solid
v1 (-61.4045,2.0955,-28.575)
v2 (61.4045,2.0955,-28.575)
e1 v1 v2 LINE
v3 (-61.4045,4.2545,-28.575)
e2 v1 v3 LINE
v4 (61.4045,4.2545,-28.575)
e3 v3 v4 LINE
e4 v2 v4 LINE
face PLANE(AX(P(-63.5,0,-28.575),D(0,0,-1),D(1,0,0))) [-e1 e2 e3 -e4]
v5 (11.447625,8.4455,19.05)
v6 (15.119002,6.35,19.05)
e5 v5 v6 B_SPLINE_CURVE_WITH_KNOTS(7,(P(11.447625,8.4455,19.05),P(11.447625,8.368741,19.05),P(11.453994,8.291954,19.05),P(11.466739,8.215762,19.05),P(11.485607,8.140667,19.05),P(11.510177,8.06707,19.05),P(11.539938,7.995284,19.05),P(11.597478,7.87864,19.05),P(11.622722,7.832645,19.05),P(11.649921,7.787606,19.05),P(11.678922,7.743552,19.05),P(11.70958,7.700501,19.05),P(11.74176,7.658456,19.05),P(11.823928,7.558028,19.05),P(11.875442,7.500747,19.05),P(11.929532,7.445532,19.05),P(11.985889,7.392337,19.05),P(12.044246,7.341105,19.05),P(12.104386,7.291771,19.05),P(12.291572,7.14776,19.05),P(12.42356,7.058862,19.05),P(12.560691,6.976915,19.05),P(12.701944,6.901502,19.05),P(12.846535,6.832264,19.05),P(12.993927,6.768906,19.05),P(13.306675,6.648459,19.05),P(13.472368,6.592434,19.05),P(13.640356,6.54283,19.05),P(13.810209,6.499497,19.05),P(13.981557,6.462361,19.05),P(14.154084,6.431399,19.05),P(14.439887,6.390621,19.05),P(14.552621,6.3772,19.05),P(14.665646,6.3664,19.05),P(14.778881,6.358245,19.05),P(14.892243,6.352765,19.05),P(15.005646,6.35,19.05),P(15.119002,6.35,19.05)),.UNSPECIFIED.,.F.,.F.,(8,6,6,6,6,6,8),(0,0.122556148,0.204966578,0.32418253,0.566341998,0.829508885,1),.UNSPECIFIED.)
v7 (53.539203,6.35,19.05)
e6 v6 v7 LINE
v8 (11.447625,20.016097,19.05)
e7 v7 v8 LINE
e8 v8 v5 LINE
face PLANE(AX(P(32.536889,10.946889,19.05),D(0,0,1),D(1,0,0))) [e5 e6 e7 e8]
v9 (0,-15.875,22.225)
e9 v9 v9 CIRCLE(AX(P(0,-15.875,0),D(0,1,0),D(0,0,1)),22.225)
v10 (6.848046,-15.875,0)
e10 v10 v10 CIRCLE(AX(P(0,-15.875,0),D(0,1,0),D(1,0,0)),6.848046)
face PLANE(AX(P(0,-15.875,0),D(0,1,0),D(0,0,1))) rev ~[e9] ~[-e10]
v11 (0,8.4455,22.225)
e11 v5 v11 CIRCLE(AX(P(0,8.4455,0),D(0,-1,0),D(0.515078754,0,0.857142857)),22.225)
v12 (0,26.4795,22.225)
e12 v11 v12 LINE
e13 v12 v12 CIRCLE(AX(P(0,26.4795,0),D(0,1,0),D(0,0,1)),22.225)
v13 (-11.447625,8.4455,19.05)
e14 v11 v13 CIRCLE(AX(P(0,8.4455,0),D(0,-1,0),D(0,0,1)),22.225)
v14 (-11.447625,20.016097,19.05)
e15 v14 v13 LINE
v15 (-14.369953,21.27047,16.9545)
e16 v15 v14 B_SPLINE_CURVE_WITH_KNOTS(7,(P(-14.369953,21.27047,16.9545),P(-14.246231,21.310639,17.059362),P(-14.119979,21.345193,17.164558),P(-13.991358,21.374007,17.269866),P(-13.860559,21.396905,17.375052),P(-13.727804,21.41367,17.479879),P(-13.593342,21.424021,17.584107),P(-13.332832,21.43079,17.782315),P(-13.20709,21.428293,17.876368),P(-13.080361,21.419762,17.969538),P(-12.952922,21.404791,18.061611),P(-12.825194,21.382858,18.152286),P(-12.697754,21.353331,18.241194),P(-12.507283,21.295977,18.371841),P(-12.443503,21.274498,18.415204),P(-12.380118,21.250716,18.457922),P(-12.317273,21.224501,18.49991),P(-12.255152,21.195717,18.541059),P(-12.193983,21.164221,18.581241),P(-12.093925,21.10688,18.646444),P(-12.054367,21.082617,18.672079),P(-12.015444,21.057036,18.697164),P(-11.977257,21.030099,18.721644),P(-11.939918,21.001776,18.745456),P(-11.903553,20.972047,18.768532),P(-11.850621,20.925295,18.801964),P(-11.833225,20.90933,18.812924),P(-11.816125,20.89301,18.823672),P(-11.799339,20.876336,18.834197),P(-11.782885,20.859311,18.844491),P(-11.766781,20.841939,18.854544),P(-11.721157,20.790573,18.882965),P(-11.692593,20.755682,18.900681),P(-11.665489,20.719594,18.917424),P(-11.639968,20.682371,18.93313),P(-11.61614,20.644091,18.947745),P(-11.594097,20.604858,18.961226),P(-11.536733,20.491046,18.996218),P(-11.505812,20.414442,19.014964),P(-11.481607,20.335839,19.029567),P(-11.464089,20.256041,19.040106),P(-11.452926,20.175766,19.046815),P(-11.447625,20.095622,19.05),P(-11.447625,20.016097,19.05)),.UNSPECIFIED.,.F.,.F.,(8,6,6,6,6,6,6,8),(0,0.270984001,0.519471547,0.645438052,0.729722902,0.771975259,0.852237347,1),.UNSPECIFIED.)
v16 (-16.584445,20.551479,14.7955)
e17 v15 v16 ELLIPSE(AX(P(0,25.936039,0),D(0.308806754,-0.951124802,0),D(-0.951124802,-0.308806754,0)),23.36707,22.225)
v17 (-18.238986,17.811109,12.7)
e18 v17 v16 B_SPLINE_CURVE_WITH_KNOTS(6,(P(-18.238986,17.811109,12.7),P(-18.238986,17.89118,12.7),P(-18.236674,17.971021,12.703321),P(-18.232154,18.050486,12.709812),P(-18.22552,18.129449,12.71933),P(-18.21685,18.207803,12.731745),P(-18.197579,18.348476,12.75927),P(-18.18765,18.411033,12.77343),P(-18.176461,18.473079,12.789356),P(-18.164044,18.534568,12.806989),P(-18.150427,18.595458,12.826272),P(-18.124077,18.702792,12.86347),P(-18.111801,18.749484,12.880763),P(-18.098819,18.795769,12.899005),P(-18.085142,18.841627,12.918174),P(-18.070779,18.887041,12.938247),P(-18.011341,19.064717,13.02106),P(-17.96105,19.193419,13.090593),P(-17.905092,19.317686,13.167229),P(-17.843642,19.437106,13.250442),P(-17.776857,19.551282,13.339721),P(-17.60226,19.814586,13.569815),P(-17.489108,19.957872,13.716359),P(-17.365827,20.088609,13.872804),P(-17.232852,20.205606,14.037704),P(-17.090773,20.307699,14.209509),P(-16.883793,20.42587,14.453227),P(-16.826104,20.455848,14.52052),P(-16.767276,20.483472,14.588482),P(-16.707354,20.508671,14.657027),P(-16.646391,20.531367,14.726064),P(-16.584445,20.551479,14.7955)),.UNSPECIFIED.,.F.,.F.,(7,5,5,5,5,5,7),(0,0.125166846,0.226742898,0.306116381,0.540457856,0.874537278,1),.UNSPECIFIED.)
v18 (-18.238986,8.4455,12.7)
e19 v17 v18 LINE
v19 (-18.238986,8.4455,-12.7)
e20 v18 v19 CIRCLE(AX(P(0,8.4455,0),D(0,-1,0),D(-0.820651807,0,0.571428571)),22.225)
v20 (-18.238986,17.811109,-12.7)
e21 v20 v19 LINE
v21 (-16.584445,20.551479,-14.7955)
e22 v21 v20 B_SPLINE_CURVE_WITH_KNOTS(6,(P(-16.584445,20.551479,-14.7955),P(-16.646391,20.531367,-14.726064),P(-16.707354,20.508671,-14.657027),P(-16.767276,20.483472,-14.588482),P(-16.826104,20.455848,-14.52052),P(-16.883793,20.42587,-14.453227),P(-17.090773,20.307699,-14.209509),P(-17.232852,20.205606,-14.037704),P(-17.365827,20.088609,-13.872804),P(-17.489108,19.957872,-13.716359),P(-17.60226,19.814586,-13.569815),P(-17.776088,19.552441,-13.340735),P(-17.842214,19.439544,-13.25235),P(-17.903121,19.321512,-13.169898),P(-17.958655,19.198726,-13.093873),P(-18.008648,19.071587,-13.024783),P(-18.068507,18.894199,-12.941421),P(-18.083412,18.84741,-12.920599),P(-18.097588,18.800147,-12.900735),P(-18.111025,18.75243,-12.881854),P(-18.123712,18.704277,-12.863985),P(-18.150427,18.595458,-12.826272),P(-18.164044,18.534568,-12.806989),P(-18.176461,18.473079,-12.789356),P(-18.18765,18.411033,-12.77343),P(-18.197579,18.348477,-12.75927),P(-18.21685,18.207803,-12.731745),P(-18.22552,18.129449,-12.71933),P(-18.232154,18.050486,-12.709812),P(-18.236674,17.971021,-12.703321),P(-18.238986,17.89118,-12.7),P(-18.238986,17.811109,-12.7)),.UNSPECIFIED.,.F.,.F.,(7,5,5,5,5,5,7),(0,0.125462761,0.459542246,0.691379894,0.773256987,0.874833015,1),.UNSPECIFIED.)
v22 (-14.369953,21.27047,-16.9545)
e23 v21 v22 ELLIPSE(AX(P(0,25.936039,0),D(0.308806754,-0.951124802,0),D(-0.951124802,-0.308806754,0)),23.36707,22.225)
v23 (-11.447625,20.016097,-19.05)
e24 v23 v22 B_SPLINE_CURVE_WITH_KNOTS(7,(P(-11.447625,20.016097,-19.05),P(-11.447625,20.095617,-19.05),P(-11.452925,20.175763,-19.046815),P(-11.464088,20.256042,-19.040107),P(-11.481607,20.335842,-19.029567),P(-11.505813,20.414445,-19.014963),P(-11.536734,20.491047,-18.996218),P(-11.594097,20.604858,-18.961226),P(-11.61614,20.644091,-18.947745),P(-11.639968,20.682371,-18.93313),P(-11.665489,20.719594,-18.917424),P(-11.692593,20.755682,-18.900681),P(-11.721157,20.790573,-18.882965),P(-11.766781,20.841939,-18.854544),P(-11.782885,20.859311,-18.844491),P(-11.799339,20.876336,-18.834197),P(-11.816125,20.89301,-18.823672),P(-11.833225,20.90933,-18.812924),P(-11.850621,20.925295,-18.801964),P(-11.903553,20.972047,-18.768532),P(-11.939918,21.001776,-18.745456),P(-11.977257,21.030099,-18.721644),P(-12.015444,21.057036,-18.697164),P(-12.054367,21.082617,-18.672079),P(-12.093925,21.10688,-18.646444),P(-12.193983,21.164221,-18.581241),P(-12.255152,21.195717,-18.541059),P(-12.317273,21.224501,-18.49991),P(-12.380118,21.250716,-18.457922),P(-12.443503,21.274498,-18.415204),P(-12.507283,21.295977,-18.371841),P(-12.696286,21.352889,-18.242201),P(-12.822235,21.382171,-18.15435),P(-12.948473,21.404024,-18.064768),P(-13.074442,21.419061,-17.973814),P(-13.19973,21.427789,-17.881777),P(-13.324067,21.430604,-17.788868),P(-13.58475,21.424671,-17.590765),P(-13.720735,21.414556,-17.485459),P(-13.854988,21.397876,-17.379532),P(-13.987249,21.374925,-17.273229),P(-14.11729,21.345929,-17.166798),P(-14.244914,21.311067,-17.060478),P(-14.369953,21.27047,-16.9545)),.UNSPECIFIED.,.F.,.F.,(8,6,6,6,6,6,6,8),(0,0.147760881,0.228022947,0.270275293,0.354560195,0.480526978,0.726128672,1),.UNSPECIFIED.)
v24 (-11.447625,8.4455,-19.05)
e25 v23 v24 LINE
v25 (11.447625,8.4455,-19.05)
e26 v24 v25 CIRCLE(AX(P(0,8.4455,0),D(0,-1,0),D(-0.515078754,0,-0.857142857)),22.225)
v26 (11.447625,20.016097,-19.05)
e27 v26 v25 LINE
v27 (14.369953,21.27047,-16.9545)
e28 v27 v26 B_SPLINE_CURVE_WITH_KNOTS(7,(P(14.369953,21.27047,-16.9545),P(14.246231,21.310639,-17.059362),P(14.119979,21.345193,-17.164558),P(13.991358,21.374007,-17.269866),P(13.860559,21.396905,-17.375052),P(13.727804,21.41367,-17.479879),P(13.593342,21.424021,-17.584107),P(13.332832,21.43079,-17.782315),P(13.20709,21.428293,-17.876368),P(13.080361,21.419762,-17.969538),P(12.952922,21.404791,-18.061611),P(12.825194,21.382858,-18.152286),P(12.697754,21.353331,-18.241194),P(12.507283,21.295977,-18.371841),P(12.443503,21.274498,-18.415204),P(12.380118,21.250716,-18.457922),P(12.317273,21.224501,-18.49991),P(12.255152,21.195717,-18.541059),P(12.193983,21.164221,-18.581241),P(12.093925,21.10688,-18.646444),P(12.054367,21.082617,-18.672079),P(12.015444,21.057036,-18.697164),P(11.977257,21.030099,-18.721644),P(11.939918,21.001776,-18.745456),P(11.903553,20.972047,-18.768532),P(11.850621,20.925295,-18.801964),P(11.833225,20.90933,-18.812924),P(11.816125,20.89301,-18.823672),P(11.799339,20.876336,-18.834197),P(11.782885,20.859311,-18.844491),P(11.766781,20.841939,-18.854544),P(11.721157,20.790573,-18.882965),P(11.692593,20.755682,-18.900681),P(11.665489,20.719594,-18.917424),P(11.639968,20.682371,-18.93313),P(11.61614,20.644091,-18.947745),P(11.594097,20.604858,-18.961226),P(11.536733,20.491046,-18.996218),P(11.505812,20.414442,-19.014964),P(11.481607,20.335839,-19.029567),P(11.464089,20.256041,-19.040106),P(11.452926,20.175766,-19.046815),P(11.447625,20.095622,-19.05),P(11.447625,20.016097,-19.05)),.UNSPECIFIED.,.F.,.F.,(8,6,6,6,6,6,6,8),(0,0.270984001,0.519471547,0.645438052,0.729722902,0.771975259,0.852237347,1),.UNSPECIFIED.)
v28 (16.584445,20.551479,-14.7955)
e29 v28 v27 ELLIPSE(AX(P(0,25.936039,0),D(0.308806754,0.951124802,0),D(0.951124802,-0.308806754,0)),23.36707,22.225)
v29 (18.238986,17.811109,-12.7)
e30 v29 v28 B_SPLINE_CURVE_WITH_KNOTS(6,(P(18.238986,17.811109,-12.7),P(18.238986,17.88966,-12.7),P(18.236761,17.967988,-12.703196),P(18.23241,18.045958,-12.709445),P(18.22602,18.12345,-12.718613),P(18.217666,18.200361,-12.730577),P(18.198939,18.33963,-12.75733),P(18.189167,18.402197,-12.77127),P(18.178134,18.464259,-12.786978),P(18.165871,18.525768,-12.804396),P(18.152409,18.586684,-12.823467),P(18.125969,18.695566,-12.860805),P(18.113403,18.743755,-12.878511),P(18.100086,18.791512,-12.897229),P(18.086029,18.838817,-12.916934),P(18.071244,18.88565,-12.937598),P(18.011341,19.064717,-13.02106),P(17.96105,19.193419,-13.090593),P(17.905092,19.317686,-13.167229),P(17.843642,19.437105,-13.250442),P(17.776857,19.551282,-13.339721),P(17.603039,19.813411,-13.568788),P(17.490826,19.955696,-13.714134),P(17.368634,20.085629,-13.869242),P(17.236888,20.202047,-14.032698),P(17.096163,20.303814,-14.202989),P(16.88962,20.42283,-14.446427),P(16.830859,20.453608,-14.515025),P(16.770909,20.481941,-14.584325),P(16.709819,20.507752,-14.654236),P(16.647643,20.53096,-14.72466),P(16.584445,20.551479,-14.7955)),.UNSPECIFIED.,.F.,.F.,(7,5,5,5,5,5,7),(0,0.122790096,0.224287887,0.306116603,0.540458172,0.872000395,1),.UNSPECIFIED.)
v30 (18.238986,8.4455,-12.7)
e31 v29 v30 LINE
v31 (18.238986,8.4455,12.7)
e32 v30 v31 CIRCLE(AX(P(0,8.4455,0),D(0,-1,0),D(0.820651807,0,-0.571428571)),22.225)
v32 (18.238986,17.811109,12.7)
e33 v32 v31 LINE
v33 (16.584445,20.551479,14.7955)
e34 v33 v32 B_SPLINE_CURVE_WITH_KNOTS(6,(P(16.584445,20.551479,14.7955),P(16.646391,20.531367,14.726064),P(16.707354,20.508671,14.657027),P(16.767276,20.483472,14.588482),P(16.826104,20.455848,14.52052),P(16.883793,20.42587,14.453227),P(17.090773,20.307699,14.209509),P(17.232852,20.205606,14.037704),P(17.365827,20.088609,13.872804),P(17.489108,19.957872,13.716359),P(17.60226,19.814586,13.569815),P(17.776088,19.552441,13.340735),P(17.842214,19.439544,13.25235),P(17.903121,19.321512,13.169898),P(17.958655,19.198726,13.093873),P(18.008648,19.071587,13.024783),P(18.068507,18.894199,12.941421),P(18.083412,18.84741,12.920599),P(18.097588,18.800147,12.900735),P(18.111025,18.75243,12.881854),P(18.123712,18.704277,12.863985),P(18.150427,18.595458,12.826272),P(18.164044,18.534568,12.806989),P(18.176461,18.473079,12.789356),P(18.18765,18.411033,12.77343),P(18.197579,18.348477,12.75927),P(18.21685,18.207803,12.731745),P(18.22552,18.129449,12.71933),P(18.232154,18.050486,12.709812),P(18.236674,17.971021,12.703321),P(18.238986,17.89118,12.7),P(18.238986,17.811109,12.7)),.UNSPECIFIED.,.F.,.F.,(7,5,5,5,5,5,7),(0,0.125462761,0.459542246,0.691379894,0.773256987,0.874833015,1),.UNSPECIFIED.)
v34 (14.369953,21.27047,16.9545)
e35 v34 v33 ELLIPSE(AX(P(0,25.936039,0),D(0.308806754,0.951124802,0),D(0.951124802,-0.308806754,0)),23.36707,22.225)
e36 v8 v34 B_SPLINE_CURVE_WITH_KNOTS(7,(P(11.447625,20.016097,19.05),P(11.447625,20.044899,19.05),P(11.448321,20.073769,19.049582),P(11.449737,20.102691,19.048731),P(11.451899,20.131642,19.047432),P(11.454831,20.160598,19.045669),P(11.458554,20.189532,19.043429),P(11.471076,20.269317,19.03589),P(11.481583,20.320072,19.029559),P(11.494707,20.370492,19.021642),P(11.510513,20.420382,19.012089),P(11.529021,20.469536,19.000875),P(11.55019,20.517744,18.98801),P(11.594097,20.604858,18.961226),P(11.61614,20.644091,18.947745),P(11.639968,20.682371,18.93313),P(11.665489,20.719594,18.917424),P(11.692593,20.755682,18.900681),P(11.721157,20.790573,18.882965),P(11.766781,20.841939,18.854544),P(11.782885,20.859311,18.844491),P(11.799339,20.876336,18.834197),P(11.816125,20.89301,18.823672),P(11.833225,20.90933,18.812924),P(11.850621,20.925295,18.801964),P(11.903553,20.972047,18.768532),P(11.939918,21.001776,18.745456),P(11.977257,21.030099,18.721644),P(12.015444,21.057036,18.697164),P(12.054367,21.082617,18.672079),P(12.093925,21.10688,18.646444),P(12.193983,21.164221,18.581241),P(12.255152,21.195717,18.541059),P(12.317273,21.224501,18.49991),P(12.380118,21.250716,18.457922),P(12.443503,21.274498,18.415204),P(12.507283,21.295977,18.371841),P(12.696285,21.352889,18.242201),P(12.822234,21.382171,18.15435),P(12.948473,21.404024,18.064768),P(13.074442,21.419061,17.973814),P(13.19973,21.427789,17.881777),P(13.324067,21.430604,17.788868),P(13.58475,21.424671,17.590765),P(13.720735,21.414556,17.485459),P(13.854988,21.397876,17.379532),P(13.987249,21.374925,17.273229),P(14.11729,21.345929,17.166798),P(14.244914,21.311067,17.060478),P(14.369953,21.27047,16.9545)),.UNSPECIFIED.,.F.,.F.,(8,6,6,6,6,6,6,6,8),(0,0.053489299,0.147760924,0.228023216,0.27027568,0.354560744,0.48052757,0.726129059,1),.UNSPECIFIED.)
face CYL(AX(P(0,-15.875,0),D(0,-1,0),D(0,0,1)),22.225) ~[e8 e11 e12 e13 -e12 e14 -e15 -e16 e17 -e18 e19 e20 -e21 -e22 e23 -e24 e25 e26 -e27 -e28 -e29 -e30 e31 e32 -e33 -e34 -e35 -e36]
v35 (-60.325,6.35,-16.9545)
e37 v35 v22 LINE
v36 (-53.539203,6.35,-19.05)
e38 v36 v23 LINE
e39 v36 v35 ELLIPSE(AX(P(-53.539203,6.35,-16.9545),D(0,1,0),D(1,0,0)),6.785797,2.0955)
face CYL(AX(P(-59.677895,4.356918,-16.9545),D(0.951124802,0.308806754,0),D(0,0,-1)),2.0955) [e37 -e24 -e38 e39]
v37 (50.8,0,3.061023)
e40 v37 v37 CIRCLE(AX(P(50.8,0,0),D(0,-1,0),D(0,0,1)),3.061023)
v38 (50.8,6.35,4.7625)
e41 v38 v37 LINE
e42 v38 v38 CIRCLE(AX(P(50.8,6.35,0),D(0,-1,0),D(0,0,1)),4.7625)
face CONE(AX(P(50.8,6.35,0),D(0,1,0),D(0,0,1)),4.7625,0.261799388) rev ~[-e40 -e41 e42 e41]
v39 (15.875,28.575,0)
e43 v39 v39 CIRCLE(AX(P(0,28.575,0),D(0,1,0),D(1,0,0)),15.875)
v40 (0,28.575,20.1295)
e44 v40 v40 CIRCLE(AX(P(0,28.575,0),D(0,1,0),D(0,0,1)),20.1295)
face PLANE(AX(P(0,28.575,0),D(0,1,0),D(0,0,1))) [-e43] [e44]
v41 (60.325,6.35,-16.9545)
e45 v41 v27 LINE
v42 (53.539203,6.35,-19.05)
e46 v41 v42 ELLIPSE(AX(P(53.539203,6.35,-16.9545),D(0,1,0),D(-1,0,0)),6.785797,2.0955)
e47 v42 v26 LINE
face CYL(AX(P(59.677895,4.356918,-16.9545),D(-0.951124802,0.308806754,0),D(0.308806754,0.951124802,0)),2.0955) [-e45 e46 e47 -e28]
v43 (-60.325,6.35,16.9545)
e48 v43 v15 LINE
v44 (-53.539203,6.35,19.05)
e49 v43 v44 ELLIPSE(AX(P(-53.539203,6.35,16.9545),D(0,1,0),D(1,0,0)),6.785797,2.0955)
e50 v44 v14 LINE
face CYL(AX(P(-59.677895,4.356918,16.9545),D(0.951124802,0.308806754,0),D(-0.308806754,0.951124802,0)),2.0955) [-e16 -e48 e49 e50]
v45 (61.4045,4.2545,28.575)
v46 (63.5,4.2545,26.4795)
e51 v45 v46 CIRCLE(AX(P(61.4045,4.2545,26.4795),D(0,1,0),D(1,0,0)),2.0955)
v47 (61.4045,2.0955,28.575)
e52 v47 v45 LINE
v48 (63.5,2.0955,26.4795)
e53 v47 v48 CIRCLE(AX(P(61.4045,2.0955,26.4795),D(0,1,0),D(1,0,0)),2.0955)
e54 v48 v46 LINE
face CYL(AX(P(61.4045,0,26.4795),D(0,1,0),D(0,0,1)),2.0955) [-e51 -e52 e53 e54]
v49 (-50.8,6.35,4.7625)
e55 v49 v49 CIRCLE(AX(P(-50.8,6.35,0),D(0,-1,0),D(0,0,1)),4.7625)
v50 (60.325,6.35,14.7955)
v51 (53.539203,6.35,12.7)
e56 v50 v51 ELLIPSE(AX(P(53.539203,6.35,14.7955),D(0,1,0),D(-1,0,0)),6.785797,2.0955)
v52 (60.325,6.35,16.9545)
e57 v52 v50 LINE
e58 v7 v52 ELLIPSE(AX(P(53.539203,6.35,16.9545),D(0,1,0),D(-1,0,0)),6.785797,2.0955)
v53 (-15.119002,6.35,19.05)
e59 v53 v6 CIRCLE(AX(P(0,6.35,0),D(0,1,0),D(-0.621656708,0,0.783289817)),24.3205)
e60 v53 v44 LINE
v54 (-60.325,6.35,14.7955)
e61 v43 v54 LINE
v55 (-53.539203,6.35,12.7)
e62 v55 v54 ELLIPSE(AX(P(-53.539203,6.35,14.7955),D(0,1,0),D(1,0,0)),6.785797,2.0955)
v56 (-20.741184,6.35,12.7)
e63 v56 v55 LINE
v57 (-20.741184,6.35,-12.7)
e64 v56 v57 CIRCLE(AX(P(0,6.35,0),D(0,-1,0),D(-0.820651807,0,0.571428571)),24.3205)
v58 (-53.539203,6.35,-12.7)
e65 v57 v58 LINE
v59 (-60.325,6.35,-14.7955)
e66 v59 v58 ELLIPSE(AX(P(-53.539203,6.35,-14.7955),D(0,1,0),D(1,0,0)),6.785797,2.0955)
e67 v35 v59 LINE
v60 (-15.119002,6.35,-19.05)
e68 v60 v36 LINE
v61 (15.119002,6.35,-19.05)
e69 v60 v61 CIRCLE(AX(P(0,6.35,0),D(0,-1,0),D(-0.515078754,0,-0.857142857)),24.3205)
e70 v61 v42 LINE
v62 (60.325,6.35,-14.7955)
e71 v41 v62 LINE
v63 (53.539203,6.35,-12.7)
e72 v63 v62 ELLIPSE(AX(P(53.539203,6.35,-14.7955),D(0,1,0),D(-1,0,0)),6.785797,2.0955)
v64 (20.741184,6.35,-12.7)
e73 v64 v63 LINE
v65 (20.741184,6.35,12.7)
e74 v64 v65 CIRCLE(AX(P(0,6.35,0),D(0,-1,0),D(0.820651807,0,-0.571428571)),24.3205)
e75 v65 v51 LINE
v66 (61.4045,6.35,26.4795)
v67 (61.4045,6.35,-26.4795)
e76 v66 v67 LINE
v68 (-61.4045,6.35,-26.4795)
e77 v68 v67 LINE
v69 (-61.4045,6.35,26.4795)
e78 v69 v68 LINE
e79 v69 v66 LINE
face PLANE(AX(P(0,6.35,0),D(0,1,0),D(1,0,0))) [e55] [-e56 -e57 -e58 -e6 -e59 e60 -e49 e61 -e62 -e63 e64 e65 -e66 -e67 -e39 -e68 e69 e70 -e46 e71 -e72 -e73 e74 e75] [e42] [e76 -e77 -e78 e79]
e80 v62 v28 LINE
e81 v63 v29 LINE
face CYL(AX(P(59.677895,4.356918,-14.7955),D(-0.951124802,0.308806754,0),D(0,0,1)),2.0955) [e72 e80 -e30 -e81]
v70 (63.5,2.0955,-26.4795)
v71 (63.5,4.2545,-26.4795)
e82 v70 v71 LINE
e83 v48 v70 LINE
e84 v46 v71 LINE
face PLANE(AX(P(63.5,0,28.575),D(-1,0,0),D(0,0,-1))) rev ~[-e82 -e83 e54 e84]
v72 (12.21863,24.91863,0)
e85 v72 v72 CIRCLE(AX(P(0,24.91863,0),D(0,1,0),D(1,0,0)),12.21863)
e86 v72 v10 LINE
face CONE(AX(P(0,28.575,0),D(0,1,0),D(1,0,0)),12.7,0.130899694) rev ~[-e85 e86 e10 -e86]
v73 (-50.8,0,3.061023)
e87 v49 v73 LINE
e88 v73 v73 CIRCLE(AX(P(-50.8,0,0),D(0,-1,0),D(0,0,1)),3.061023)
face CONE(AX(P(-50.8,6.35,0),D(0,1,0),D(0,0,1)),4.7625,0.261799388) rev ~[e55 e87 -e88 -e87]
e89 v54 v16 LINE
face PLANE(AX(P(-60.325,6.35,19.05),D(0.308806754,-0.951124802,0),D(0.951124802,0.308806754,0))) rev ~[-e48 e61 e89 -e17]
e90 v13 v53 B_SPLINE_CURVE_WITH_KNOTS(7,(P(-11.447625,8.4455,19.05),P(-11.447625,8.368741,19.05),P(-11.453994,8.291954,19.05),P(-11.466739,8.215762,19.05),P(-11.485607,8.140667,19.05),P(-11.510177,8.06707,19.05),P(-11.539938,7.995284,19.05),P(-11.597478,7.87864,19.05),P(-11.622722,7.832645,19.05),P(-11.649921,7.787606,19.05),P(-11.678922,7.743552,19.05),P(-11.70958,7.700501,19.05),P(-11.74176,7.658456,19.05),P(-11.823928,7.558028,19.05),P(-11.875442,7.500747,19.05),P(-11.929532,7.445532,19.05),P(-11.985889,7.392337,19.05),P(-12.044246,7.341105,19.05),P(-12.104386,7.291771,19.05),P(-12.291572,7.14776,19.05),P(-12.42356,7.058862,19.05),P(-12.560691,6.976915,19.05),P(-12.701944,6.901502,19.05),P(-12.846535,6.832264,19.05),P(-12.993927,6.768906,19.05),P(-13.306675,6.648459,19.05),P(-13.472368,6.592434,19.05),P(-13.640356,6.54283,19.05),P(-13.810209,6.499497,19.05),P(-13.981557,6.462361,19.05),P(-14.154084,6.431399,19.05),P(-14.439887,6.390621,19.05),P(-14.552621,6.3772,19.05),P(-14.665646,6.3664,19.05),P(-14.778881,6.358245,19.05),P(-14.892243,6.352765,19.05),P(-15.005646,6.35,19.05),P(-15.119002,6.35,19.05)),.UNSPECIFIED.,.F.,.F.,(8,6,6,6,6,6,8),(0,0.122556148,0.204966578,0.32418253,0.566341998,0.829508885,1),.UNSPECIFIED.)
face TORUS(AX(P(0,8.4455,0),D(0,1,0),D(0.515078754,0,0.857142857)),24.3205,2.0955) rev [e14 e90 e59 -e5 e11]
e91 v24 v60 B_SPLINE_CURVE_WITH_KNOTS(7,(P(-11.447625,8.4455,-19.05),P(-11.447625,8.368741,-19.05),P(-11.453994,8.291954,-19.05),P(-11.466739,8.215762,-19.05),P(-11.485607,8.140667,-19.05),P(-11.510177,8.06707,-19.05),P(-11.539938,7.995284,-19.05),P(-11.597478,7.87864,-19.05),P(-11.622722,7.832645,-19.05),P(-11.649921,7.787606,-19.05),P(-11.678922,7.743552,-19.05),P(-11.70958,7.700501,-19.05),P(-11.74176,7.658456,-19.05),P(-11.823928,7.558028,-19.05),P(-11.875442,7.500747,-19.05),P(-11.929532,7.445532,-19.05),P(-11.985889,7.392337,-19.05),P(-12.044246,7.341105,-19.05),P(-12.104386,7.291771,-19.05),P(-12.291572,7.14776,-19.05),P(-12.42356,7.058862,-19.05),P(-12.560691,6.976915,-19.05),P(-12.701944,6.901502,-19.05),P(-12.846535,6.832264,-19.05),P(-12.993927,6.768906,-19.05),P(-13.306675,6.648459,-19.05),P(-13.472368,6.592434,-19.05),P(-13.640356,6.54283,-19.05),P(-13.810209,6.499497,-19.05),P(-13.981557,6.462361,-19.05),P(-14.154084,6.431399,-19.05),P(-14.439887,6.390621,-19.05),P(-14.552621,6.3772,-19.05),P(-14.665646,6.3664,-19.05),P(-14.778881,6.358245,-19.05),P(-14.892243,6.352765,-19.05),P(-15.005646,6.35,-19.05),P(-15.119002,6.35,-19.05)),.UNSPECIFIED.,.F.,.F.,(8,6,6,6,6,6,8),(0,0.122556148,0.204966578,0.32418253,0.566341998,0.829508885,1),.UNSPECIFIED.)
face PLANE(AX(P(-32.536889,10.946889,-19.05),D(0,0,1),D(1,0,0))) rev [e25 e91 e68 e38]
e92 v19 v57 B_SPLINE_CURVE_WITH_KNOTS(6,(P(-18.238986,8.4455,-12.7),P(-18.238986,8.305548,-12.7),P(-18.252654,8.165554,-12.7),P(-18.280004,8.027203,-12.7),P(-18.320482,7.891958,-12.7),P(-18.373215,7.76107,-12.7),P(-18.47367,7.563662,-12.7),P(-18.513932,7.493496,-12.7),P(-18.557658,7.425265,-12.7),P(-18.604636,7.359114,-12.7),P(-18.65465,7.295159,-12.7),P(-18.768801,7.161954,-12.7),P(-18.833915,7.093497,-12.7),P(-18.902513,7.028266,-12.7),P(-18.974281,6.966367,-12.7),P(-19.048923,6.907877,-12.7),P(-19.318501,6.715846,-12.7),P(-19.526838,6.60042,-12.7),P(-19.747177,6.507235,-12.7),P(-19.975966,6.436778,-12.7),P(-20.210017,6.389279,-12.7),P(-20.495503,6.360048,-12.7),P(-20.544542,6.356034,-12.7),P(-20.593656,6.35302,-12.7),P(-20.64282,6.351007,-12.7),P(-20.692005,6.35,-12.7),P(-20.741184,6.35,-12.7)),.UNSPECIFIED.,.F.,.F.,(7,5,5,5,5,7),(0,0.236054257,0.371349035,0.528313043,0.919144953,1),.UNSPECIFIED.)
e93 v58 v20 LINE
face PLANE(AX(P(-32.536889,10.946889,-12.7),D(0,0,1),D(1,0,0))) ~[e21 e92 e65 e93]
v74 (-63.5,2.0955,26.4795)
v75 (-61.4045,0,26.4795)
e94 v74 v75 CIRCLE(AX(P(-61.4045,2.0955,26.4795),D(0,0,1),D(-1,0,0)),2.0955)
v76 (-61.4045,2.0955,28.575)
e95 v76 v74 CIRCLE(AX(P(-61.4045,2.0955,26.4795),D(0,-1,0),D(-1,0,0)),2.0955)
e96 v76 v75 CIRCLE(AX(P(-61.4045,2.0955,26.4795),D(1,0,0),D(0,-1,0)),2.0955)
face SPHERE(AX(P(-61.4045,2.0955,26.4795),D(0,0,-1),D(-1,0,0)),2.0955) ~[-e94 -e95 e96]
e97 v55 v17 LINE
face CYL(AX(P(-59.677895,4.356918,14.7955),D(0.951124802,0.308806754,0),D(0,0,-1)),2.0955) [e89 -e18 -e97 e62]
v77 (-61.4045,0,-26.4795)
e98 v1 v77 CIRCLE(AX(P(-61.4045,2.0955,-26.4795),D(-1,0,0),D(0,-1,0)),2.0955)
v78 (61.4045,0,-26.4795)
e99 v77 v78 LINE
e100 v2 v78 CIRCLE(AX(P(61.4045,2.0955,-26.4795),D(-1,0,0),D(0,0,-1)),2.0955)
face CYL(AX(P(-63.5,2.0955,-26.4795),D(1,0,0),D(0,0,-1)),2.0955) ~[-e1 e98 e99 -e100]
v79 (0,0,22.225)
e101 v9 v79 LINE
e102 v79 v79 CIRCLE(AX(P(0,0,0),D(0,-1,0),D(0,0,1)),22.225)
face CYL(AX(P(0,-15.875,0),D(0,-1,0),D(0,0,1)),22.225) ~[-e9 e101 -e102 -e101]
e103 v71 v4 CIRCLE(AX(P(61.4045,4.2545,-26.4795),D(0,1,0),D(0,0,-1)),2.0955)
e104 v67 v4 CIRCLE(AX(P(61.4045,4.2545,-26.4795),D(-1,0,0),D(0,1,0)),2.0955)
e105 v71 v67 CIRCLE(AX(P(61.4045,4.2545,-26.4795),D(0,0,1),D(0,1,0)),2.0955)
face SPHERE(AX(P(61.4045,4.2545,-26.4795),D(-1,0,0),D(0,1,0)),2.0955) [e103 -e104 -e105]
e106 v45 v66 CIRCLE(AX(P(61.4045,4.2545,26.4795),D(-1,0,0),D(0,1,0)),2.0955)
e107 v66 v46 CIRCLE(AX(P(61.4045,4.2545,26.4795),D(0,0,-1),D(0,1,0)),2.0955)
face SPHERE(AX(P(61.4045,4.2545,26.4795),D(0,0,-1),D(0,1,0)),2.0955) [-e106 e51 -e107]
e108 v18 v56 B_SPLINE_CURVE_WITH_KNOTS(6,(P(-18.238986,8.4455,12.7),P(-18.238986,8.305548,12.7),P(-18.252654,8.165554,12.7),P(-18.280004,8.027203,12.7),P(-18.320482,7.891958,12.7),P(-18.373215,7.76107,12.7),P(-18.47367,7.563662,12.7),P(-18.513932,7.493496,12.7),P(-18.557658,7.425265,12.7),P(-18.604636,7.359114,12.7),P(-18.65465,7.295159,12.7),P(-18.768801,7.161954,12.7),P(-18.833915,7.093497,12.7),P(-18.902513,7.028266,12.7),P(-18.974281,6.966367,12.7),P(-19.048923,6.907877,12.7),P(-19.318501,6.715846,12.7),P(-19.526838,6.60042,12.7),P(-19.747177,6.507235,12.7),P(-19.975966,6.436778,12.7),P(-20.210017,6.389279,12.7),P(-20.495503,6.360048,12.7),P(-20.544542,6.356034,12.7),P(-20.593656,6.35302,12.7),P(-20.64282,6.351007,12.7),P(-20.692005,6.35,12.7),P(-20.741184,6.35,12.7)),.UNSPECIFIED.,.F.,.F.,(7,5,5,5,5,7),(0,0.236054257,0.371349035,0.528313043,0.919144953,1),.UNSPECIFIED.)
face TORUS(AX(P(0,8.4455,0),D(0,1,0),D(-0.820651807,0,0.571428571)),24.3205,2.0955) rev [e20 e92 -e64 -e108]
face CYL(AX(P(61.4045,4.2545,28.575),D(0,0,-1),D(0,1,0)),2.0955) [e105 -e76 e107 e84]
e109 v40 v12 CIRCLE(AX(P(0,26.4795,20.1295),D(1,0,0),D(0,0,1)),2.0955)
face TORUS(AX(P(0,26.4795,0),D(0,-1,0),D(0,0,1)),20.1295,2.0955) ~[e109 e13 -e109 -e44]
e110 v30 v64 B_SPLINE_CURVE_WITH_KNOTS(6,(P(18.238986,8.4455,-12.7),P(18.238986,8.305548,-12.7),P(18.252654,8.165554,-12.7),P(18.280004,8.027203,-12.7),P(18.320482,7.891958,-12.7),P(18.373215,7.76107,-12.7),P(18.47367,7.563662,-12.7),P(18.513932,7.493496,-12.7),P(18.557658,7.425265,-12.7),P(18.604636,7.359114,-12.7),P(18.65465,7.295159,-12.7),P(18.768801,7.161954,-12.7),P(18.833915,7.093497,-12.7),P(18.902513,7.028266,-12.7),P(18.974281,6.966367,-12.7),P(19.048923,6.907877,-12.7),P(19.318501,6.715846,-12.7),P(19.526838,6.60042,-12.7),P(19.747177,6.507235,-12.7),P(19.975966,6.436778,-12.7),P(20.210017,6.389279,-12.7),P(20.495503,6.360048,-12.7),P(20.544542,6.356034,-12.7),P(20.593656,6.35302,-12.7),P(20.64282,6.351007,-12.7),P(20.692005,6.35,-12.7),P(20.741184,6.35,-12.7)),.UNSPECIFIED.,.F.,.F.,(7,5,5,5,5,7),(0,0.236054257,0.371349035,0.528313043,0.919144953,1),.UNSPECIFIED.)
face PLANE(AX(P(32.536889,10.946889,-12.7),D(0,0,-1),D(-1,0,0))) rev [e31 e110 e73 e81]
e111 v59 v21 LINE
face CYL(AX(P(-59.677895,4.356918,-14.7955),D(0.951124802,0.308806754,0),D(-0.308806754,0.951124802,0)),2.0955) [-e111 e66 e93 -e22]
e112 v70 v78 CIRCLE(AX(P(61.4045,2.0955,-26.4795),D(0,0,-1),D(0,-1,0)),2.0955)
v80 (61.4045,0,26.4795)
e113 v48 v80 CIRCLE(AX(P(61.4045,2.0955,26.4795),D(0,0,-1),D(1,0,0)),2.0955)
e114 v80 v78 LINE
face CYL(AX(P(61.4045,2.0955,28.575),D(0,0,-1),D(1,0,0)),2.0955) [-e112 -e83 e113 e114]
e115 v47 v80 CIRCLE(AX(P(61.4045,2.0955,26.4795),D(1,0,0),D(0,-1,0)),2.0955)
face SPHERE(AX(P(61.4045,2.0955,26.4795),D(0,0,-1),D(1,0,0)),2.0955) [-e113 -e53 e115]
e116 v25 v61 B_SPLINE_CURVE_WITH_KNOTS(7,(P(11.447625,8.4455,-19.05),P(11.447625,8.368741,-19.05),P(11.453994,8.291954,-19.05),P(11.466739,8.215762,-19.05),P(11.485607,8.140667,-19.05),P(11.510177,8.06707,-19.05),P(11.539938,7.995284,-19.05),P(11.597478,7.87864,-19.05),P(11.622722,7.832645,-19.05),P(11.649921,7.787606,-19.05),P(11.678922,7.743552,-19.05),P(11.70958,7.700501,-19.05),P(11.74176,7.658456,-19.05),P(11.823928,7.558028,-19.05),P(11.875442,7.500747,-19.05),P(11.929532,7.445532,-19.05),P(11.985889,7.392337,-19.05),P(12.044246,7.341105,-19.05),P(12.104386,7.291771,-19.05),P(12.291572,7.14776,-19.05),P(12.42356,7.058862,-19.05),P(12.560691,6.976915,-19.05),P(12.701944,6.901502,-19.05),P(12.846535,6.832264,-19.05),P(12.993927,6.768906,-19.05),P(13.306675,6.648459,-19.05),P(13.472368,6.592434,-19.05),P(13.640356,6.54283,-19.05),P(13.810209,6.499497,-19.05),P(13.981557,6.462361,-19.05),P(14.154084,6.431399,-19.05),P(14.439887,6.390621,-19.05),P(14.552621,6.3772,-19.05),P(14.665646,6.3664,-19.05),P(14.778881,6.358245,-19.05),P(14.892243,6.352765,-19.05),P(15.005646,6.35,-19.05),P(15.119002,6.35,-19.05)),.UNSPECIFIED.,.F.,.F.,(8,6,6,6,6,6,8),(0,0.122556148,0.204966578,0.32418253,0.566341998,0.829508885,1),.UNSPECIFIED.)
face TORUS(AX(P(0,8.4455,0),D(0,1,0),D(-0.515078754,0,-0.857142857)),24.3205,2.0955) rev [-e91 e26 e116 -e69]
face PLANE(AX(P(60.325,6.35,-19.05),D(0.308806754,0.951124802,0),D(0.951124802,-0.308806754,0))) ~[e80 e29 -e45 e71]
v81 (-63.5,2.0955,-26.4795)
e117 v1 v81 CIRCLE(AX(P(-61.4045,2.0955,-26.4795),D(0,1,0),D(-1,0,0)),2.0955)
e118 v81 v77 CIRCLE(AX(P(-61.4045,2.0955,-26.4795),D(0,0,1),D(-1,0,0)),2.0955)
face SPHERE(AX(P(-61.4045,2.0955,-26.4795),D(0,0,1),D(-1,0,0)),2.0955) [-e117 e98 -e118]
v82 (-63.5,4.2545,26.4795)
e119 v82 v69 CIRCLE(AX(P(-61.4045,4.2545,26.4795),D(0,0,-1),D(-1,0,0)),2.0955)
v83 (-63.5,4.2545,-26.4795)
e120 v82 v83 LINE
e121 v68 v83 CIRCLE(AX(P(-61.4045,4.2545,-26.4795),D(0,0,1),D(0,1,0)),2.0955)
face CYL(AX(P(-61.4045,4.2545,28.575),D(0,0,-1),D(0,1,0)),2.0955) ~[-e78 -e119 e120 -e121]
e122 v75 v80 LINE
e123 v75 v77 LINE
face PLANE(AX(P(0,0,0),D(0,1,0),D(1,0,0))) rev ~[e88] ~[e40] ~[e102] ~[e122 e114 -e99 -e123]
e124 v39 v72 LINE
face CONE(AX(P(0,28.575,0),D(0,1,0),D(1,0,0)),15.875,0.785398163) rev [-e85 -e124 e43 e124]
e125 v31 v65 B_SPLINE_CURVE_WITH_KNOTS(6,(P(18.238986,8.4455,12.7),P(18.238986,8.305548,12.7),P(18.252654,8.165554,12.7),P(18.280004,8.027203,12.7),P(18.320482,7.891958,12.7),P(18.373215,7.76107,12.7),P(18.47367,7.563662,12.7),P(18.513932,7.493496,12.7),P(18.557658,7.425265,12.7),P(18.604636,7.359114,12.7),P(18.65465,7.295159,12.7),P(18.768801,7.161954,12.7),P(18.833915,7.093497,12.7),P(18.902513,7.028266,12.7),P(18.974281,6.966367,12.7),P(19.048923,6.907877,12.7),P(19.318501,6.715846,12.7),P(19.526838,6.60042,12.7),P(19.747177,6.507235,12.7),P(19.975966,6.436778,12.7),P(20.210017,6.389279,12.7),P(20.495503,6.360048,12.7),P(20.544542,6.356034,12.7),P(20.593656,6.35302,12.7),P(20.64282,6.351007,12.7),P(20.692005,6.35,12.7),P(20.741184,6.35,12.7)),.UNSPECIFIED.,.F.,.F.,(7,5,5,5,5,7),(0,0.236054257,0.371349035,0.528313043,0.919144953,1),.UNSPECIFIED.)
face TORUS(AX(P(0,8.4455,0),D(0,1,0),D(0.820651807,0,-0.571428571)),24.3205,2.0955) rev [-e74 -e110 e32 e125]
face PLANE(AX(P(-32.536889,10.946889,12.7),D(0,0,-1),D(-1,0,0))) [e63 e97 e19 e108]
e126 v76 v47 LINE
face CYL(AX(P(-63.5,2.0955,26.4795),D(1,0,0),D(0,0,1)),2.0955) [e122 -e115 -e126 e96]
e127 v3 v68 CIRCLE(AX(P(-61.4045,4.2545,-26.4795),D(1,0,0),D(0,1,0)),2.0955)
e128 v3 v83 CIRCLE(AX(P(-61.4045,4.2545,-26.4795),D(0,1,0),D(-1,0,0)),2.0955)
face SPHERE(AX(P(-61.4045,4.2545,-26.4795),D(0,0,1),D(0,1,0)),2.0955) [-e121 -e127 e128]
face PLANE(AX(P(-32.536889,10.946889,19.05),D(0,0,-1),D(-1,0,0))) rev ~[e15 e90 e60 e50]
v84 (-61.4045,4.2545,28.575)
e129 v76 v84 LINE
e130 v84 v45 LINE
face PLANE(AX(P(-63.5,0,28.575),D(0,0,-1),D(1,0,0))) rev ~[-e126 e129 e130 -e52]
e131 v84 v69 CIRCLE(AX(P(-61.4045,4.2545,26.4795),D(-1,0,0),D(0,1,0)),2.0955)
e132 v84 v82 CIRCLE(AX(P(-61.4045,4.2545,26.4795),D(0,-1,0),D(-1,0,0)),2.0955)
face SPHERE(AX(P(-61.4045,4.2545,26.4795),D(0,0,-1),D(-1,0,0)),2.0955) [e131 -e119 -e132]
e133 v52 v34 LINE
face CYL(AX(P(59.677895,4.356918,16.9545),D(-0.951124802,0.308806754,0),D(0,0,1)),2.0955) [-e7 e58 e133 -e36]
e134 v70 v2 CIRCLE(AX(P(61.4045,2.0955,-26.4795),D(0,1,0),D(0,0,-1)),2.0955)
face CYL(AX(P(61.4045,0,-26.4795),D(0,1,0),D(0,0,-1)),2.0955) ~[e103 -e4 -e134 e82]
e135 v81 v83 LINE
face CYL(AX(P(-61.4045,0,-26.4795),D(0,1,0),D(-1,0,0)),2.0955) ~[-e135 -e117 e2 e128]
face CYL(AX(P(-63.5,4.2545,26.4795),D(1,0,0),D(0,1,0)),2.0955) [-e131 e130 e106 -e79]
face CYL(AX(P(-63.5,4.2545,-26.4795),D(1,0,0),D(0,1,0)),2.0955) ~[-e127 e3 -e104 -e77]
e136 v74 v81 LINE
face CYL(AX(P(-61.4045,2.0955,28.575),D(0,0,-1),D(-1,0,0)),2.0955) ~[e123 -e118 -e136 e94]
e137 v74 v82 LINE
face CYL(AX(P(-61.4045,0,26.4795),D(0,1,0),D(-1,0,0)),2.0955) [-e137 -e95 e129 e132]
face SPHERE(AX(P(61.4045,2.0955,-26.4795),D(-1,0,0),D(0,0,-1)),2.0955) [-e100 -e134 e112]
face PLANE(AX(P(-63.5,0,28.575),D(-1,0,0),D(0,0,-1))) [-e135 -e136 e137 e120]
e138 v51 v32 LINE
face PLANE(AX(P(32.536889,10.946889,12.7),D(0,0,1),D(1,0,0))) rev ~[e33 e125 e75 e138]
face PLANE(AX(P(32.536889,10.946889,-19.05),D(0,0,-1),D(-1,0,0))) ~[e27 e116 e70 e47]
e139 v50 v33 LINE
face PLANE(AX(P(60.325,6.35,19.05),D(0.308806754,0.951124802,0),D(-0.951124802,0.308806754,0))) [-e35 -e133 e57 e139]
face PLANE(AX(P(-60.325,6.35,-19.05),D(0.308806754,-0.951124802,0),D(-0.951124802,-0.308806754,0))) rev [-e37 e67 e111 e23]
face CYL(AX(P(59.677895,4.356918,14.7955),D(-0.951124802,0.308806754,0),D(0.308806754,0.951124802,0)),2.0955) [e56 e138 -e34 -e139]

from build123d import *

# Parameters (mm, degrees)
SKETCH1_W                = 127
SKETCH1_H                = 57.15
BOSS_EXTRUDE1_DEPTH      = 6.35
BOSS_EXTRUDE2_DEPTH      = 22.225
BOSS_EXTRUDE2_DEPTH_BACK = 22.225
SKETCH3_R                = 22.225
SKETCH4_R                = 12.7
CUT_EXTRUDE2_DEPTH       = 83.611035128
CUT_EXTRUDE2_DRAFT       = -7.5
BOSS_EXTRUDE3_DEPTH      = 6.35
CHAMFER1_SIZE            = 3.175
CHAMFER1_SIZE2           = 3.687920954
FILLET1_R                = 2.0955


with BuildPart() as part:
    # Sketch1 → Boss-Extrude1 (new body)
    with BuildSketch(Plane(origin=(0, 0, 0), x_dir=(1, 0, 0), z_dir=(0, 1, 0))):
        Rectangle(SKETCH1_W, SKETCH1_H)
    extrude(amount=BOSS_EXTRUDE1_DEPTH)

    # Cut-Extrude1 cone 1 section (through the dimple's axis) → Cut-Extrude1 (revolve, cut)
    with BuildSketch(Plane(origin=(-50.8, 6.35, 0), x_dir=(0, 0, 1), z_dir=(1, 0, 0))):
        Polygon((0, 0), (4.7625, 0), (0, 17.773891971), align=None)
    revolve(axis=Axis((-50.8, 6.35, 0), (0, -1, 0)), mode=Mode.SUBTRACT)

    # Cut-Extrude1 cone 2 section (through the dimple's axis) → Cut-Extrude1 cone 2 (revolve, cut)
    with BuildSketch(Plane(origin=(50.8, 6.35, 0), x_dir=(0, 0, 1), z_dir=(1, 0, 0))):
        Polygon((0, 0), (4.7625, 0), (0, 17.773891971), align=None)
    revolve(axis=Axis((50.8, 6.35, 0), (0, -1, 0)), mode=Mode.SUBTRACT)

    # Sketch3 → Boss-Extrude2 (add, two sides: drawn at the far end of the back side and taken through both)
    with BuildSketch(Plane(origin=(0, 6.35, 0), x_dir=(1, 0, 0), z_dir=(0, 1, 0)).offset(-BOSS_EXTRUDE2_DEPTH_BACK)):
        with Locations(Location((0, 0, 0), (0, 0, 270))):
            Circle(SKETCH3_R)
    extrude(amount=BOSS_EXTRUDE2_DEPTH + BOSS_EXTRUDE2_DEPTH_BACK)


with BuildPart() as cut_extrude2_tool:
    # Sketch4 → Cut-Extrude2 (with draft: the straight prism first)
    with BuildSketch(Plane(origin=(0, 28.575, 0), x_dir=(1, 0, 0), z_dir=(0, 1, 0))):
        Circle(SKETCH4_R)
    extrude(amount=-CUT_EXTRUDE2_DEPTH)
    # Cut-Extrude2: the draft: its side faces are tilted about the plane it starts from
    cut_extrude2_sides = [cut_extrude2_tool.faces().sort_by_distance(p)[0] for p in [
        (-12.7, -13.230517564, 0),
    ]]
    draft(cut_extrude2_sides, Plane(origin=(0, 28.575, 0), x_dir=(1, 0, 0), z_dir=(0, 1, 0)), CUT_EXTRUDE2_DRAFT)


with BuildPart() as part_1:
    add(part.part)

    # Cut-Extrude2: cut by cut_extrude2_tool
    add(cut_extrude2_tool.part, mode=Mode.SUBTRACT)

    # Sketch5 → Boss-Extrude3 (add)
    with BuildSketch(Plane.XY.offset(19.05)):
        Polygon((11.43, 22.225), (11.43, 6.35), (60.325, 6.35), align=None)
        Polygon((-11.43, 22.225), (-11.43, 6.35), (-60.325, 6.35), align=None)
    boss_extrude3 = extrude(amount=-BOSS_EXTRUDE3_DEPTH)

    # Mirror1: Boss-Extrude3 across plane
    add(boss_extrude3.mirror(Plane.XY))

    # Chamfer1
    chamfer1_edges = [part_1.edges().sort_by_distance(p)[0] for p in [
        (-12.7, 28.575, 0),
    ]]
    chamfer1_side = [part_1.faces().sort_by_distance(p)[0] for p in [
        (0, 28.575, -21.596382072),
    ]]
    chamfer(chamfer1_edges, length=CHAMFER1_SIZE, length2=CHAMFER1_SIZE2, reference=chamfer1_side[0])

    # Fillet1
    fillet1_edges = [part_1.edges().sort_by_distance(p)[0] for p in [
        (35.88631265, 14.28463875, 19.05),
        (39.281993201, 13.182145064, 12.7),
        (35.88631265, 14.28463875, -19.05),
        (39.281993201, 13.182145064, -12.7),
        (-39.281993201, 13.182145064, 12.7),
        (-35.88631265, 14.28463875, 19.05),
        (-39.281993201, 13.182145064, -12.7),
        (-35.88631265, 14.28463875, -19.05),
        (-22.225, 6.35, 0),
        (5.939881102, 6.35, 21.416545882),
        (22.225, 6.35, 0),
        (0, 6.35, -22.225),
        (-63.5, 6.35, 0),
        (-63.5, 0, 0),
        (0, 6.35, -28.575),
        (-63.5, 3.175, -28.575),
        (0, 0, -28.575),
        (63.5, 6.35, 0),
        (63.5, 3.175, -28.575),
        (63.5, 0, 0),
        (-63.5, 3.175, 28.575),
        (0, 6.35, 28.575),
        (63.5, 3.175, 28.575),
        (0, 0, 28.575),
        (0, 28.575, -22.225),
    ]]
    fillet(fillet1_edges, radius=FILLET1_R)


solid = part_1.part
